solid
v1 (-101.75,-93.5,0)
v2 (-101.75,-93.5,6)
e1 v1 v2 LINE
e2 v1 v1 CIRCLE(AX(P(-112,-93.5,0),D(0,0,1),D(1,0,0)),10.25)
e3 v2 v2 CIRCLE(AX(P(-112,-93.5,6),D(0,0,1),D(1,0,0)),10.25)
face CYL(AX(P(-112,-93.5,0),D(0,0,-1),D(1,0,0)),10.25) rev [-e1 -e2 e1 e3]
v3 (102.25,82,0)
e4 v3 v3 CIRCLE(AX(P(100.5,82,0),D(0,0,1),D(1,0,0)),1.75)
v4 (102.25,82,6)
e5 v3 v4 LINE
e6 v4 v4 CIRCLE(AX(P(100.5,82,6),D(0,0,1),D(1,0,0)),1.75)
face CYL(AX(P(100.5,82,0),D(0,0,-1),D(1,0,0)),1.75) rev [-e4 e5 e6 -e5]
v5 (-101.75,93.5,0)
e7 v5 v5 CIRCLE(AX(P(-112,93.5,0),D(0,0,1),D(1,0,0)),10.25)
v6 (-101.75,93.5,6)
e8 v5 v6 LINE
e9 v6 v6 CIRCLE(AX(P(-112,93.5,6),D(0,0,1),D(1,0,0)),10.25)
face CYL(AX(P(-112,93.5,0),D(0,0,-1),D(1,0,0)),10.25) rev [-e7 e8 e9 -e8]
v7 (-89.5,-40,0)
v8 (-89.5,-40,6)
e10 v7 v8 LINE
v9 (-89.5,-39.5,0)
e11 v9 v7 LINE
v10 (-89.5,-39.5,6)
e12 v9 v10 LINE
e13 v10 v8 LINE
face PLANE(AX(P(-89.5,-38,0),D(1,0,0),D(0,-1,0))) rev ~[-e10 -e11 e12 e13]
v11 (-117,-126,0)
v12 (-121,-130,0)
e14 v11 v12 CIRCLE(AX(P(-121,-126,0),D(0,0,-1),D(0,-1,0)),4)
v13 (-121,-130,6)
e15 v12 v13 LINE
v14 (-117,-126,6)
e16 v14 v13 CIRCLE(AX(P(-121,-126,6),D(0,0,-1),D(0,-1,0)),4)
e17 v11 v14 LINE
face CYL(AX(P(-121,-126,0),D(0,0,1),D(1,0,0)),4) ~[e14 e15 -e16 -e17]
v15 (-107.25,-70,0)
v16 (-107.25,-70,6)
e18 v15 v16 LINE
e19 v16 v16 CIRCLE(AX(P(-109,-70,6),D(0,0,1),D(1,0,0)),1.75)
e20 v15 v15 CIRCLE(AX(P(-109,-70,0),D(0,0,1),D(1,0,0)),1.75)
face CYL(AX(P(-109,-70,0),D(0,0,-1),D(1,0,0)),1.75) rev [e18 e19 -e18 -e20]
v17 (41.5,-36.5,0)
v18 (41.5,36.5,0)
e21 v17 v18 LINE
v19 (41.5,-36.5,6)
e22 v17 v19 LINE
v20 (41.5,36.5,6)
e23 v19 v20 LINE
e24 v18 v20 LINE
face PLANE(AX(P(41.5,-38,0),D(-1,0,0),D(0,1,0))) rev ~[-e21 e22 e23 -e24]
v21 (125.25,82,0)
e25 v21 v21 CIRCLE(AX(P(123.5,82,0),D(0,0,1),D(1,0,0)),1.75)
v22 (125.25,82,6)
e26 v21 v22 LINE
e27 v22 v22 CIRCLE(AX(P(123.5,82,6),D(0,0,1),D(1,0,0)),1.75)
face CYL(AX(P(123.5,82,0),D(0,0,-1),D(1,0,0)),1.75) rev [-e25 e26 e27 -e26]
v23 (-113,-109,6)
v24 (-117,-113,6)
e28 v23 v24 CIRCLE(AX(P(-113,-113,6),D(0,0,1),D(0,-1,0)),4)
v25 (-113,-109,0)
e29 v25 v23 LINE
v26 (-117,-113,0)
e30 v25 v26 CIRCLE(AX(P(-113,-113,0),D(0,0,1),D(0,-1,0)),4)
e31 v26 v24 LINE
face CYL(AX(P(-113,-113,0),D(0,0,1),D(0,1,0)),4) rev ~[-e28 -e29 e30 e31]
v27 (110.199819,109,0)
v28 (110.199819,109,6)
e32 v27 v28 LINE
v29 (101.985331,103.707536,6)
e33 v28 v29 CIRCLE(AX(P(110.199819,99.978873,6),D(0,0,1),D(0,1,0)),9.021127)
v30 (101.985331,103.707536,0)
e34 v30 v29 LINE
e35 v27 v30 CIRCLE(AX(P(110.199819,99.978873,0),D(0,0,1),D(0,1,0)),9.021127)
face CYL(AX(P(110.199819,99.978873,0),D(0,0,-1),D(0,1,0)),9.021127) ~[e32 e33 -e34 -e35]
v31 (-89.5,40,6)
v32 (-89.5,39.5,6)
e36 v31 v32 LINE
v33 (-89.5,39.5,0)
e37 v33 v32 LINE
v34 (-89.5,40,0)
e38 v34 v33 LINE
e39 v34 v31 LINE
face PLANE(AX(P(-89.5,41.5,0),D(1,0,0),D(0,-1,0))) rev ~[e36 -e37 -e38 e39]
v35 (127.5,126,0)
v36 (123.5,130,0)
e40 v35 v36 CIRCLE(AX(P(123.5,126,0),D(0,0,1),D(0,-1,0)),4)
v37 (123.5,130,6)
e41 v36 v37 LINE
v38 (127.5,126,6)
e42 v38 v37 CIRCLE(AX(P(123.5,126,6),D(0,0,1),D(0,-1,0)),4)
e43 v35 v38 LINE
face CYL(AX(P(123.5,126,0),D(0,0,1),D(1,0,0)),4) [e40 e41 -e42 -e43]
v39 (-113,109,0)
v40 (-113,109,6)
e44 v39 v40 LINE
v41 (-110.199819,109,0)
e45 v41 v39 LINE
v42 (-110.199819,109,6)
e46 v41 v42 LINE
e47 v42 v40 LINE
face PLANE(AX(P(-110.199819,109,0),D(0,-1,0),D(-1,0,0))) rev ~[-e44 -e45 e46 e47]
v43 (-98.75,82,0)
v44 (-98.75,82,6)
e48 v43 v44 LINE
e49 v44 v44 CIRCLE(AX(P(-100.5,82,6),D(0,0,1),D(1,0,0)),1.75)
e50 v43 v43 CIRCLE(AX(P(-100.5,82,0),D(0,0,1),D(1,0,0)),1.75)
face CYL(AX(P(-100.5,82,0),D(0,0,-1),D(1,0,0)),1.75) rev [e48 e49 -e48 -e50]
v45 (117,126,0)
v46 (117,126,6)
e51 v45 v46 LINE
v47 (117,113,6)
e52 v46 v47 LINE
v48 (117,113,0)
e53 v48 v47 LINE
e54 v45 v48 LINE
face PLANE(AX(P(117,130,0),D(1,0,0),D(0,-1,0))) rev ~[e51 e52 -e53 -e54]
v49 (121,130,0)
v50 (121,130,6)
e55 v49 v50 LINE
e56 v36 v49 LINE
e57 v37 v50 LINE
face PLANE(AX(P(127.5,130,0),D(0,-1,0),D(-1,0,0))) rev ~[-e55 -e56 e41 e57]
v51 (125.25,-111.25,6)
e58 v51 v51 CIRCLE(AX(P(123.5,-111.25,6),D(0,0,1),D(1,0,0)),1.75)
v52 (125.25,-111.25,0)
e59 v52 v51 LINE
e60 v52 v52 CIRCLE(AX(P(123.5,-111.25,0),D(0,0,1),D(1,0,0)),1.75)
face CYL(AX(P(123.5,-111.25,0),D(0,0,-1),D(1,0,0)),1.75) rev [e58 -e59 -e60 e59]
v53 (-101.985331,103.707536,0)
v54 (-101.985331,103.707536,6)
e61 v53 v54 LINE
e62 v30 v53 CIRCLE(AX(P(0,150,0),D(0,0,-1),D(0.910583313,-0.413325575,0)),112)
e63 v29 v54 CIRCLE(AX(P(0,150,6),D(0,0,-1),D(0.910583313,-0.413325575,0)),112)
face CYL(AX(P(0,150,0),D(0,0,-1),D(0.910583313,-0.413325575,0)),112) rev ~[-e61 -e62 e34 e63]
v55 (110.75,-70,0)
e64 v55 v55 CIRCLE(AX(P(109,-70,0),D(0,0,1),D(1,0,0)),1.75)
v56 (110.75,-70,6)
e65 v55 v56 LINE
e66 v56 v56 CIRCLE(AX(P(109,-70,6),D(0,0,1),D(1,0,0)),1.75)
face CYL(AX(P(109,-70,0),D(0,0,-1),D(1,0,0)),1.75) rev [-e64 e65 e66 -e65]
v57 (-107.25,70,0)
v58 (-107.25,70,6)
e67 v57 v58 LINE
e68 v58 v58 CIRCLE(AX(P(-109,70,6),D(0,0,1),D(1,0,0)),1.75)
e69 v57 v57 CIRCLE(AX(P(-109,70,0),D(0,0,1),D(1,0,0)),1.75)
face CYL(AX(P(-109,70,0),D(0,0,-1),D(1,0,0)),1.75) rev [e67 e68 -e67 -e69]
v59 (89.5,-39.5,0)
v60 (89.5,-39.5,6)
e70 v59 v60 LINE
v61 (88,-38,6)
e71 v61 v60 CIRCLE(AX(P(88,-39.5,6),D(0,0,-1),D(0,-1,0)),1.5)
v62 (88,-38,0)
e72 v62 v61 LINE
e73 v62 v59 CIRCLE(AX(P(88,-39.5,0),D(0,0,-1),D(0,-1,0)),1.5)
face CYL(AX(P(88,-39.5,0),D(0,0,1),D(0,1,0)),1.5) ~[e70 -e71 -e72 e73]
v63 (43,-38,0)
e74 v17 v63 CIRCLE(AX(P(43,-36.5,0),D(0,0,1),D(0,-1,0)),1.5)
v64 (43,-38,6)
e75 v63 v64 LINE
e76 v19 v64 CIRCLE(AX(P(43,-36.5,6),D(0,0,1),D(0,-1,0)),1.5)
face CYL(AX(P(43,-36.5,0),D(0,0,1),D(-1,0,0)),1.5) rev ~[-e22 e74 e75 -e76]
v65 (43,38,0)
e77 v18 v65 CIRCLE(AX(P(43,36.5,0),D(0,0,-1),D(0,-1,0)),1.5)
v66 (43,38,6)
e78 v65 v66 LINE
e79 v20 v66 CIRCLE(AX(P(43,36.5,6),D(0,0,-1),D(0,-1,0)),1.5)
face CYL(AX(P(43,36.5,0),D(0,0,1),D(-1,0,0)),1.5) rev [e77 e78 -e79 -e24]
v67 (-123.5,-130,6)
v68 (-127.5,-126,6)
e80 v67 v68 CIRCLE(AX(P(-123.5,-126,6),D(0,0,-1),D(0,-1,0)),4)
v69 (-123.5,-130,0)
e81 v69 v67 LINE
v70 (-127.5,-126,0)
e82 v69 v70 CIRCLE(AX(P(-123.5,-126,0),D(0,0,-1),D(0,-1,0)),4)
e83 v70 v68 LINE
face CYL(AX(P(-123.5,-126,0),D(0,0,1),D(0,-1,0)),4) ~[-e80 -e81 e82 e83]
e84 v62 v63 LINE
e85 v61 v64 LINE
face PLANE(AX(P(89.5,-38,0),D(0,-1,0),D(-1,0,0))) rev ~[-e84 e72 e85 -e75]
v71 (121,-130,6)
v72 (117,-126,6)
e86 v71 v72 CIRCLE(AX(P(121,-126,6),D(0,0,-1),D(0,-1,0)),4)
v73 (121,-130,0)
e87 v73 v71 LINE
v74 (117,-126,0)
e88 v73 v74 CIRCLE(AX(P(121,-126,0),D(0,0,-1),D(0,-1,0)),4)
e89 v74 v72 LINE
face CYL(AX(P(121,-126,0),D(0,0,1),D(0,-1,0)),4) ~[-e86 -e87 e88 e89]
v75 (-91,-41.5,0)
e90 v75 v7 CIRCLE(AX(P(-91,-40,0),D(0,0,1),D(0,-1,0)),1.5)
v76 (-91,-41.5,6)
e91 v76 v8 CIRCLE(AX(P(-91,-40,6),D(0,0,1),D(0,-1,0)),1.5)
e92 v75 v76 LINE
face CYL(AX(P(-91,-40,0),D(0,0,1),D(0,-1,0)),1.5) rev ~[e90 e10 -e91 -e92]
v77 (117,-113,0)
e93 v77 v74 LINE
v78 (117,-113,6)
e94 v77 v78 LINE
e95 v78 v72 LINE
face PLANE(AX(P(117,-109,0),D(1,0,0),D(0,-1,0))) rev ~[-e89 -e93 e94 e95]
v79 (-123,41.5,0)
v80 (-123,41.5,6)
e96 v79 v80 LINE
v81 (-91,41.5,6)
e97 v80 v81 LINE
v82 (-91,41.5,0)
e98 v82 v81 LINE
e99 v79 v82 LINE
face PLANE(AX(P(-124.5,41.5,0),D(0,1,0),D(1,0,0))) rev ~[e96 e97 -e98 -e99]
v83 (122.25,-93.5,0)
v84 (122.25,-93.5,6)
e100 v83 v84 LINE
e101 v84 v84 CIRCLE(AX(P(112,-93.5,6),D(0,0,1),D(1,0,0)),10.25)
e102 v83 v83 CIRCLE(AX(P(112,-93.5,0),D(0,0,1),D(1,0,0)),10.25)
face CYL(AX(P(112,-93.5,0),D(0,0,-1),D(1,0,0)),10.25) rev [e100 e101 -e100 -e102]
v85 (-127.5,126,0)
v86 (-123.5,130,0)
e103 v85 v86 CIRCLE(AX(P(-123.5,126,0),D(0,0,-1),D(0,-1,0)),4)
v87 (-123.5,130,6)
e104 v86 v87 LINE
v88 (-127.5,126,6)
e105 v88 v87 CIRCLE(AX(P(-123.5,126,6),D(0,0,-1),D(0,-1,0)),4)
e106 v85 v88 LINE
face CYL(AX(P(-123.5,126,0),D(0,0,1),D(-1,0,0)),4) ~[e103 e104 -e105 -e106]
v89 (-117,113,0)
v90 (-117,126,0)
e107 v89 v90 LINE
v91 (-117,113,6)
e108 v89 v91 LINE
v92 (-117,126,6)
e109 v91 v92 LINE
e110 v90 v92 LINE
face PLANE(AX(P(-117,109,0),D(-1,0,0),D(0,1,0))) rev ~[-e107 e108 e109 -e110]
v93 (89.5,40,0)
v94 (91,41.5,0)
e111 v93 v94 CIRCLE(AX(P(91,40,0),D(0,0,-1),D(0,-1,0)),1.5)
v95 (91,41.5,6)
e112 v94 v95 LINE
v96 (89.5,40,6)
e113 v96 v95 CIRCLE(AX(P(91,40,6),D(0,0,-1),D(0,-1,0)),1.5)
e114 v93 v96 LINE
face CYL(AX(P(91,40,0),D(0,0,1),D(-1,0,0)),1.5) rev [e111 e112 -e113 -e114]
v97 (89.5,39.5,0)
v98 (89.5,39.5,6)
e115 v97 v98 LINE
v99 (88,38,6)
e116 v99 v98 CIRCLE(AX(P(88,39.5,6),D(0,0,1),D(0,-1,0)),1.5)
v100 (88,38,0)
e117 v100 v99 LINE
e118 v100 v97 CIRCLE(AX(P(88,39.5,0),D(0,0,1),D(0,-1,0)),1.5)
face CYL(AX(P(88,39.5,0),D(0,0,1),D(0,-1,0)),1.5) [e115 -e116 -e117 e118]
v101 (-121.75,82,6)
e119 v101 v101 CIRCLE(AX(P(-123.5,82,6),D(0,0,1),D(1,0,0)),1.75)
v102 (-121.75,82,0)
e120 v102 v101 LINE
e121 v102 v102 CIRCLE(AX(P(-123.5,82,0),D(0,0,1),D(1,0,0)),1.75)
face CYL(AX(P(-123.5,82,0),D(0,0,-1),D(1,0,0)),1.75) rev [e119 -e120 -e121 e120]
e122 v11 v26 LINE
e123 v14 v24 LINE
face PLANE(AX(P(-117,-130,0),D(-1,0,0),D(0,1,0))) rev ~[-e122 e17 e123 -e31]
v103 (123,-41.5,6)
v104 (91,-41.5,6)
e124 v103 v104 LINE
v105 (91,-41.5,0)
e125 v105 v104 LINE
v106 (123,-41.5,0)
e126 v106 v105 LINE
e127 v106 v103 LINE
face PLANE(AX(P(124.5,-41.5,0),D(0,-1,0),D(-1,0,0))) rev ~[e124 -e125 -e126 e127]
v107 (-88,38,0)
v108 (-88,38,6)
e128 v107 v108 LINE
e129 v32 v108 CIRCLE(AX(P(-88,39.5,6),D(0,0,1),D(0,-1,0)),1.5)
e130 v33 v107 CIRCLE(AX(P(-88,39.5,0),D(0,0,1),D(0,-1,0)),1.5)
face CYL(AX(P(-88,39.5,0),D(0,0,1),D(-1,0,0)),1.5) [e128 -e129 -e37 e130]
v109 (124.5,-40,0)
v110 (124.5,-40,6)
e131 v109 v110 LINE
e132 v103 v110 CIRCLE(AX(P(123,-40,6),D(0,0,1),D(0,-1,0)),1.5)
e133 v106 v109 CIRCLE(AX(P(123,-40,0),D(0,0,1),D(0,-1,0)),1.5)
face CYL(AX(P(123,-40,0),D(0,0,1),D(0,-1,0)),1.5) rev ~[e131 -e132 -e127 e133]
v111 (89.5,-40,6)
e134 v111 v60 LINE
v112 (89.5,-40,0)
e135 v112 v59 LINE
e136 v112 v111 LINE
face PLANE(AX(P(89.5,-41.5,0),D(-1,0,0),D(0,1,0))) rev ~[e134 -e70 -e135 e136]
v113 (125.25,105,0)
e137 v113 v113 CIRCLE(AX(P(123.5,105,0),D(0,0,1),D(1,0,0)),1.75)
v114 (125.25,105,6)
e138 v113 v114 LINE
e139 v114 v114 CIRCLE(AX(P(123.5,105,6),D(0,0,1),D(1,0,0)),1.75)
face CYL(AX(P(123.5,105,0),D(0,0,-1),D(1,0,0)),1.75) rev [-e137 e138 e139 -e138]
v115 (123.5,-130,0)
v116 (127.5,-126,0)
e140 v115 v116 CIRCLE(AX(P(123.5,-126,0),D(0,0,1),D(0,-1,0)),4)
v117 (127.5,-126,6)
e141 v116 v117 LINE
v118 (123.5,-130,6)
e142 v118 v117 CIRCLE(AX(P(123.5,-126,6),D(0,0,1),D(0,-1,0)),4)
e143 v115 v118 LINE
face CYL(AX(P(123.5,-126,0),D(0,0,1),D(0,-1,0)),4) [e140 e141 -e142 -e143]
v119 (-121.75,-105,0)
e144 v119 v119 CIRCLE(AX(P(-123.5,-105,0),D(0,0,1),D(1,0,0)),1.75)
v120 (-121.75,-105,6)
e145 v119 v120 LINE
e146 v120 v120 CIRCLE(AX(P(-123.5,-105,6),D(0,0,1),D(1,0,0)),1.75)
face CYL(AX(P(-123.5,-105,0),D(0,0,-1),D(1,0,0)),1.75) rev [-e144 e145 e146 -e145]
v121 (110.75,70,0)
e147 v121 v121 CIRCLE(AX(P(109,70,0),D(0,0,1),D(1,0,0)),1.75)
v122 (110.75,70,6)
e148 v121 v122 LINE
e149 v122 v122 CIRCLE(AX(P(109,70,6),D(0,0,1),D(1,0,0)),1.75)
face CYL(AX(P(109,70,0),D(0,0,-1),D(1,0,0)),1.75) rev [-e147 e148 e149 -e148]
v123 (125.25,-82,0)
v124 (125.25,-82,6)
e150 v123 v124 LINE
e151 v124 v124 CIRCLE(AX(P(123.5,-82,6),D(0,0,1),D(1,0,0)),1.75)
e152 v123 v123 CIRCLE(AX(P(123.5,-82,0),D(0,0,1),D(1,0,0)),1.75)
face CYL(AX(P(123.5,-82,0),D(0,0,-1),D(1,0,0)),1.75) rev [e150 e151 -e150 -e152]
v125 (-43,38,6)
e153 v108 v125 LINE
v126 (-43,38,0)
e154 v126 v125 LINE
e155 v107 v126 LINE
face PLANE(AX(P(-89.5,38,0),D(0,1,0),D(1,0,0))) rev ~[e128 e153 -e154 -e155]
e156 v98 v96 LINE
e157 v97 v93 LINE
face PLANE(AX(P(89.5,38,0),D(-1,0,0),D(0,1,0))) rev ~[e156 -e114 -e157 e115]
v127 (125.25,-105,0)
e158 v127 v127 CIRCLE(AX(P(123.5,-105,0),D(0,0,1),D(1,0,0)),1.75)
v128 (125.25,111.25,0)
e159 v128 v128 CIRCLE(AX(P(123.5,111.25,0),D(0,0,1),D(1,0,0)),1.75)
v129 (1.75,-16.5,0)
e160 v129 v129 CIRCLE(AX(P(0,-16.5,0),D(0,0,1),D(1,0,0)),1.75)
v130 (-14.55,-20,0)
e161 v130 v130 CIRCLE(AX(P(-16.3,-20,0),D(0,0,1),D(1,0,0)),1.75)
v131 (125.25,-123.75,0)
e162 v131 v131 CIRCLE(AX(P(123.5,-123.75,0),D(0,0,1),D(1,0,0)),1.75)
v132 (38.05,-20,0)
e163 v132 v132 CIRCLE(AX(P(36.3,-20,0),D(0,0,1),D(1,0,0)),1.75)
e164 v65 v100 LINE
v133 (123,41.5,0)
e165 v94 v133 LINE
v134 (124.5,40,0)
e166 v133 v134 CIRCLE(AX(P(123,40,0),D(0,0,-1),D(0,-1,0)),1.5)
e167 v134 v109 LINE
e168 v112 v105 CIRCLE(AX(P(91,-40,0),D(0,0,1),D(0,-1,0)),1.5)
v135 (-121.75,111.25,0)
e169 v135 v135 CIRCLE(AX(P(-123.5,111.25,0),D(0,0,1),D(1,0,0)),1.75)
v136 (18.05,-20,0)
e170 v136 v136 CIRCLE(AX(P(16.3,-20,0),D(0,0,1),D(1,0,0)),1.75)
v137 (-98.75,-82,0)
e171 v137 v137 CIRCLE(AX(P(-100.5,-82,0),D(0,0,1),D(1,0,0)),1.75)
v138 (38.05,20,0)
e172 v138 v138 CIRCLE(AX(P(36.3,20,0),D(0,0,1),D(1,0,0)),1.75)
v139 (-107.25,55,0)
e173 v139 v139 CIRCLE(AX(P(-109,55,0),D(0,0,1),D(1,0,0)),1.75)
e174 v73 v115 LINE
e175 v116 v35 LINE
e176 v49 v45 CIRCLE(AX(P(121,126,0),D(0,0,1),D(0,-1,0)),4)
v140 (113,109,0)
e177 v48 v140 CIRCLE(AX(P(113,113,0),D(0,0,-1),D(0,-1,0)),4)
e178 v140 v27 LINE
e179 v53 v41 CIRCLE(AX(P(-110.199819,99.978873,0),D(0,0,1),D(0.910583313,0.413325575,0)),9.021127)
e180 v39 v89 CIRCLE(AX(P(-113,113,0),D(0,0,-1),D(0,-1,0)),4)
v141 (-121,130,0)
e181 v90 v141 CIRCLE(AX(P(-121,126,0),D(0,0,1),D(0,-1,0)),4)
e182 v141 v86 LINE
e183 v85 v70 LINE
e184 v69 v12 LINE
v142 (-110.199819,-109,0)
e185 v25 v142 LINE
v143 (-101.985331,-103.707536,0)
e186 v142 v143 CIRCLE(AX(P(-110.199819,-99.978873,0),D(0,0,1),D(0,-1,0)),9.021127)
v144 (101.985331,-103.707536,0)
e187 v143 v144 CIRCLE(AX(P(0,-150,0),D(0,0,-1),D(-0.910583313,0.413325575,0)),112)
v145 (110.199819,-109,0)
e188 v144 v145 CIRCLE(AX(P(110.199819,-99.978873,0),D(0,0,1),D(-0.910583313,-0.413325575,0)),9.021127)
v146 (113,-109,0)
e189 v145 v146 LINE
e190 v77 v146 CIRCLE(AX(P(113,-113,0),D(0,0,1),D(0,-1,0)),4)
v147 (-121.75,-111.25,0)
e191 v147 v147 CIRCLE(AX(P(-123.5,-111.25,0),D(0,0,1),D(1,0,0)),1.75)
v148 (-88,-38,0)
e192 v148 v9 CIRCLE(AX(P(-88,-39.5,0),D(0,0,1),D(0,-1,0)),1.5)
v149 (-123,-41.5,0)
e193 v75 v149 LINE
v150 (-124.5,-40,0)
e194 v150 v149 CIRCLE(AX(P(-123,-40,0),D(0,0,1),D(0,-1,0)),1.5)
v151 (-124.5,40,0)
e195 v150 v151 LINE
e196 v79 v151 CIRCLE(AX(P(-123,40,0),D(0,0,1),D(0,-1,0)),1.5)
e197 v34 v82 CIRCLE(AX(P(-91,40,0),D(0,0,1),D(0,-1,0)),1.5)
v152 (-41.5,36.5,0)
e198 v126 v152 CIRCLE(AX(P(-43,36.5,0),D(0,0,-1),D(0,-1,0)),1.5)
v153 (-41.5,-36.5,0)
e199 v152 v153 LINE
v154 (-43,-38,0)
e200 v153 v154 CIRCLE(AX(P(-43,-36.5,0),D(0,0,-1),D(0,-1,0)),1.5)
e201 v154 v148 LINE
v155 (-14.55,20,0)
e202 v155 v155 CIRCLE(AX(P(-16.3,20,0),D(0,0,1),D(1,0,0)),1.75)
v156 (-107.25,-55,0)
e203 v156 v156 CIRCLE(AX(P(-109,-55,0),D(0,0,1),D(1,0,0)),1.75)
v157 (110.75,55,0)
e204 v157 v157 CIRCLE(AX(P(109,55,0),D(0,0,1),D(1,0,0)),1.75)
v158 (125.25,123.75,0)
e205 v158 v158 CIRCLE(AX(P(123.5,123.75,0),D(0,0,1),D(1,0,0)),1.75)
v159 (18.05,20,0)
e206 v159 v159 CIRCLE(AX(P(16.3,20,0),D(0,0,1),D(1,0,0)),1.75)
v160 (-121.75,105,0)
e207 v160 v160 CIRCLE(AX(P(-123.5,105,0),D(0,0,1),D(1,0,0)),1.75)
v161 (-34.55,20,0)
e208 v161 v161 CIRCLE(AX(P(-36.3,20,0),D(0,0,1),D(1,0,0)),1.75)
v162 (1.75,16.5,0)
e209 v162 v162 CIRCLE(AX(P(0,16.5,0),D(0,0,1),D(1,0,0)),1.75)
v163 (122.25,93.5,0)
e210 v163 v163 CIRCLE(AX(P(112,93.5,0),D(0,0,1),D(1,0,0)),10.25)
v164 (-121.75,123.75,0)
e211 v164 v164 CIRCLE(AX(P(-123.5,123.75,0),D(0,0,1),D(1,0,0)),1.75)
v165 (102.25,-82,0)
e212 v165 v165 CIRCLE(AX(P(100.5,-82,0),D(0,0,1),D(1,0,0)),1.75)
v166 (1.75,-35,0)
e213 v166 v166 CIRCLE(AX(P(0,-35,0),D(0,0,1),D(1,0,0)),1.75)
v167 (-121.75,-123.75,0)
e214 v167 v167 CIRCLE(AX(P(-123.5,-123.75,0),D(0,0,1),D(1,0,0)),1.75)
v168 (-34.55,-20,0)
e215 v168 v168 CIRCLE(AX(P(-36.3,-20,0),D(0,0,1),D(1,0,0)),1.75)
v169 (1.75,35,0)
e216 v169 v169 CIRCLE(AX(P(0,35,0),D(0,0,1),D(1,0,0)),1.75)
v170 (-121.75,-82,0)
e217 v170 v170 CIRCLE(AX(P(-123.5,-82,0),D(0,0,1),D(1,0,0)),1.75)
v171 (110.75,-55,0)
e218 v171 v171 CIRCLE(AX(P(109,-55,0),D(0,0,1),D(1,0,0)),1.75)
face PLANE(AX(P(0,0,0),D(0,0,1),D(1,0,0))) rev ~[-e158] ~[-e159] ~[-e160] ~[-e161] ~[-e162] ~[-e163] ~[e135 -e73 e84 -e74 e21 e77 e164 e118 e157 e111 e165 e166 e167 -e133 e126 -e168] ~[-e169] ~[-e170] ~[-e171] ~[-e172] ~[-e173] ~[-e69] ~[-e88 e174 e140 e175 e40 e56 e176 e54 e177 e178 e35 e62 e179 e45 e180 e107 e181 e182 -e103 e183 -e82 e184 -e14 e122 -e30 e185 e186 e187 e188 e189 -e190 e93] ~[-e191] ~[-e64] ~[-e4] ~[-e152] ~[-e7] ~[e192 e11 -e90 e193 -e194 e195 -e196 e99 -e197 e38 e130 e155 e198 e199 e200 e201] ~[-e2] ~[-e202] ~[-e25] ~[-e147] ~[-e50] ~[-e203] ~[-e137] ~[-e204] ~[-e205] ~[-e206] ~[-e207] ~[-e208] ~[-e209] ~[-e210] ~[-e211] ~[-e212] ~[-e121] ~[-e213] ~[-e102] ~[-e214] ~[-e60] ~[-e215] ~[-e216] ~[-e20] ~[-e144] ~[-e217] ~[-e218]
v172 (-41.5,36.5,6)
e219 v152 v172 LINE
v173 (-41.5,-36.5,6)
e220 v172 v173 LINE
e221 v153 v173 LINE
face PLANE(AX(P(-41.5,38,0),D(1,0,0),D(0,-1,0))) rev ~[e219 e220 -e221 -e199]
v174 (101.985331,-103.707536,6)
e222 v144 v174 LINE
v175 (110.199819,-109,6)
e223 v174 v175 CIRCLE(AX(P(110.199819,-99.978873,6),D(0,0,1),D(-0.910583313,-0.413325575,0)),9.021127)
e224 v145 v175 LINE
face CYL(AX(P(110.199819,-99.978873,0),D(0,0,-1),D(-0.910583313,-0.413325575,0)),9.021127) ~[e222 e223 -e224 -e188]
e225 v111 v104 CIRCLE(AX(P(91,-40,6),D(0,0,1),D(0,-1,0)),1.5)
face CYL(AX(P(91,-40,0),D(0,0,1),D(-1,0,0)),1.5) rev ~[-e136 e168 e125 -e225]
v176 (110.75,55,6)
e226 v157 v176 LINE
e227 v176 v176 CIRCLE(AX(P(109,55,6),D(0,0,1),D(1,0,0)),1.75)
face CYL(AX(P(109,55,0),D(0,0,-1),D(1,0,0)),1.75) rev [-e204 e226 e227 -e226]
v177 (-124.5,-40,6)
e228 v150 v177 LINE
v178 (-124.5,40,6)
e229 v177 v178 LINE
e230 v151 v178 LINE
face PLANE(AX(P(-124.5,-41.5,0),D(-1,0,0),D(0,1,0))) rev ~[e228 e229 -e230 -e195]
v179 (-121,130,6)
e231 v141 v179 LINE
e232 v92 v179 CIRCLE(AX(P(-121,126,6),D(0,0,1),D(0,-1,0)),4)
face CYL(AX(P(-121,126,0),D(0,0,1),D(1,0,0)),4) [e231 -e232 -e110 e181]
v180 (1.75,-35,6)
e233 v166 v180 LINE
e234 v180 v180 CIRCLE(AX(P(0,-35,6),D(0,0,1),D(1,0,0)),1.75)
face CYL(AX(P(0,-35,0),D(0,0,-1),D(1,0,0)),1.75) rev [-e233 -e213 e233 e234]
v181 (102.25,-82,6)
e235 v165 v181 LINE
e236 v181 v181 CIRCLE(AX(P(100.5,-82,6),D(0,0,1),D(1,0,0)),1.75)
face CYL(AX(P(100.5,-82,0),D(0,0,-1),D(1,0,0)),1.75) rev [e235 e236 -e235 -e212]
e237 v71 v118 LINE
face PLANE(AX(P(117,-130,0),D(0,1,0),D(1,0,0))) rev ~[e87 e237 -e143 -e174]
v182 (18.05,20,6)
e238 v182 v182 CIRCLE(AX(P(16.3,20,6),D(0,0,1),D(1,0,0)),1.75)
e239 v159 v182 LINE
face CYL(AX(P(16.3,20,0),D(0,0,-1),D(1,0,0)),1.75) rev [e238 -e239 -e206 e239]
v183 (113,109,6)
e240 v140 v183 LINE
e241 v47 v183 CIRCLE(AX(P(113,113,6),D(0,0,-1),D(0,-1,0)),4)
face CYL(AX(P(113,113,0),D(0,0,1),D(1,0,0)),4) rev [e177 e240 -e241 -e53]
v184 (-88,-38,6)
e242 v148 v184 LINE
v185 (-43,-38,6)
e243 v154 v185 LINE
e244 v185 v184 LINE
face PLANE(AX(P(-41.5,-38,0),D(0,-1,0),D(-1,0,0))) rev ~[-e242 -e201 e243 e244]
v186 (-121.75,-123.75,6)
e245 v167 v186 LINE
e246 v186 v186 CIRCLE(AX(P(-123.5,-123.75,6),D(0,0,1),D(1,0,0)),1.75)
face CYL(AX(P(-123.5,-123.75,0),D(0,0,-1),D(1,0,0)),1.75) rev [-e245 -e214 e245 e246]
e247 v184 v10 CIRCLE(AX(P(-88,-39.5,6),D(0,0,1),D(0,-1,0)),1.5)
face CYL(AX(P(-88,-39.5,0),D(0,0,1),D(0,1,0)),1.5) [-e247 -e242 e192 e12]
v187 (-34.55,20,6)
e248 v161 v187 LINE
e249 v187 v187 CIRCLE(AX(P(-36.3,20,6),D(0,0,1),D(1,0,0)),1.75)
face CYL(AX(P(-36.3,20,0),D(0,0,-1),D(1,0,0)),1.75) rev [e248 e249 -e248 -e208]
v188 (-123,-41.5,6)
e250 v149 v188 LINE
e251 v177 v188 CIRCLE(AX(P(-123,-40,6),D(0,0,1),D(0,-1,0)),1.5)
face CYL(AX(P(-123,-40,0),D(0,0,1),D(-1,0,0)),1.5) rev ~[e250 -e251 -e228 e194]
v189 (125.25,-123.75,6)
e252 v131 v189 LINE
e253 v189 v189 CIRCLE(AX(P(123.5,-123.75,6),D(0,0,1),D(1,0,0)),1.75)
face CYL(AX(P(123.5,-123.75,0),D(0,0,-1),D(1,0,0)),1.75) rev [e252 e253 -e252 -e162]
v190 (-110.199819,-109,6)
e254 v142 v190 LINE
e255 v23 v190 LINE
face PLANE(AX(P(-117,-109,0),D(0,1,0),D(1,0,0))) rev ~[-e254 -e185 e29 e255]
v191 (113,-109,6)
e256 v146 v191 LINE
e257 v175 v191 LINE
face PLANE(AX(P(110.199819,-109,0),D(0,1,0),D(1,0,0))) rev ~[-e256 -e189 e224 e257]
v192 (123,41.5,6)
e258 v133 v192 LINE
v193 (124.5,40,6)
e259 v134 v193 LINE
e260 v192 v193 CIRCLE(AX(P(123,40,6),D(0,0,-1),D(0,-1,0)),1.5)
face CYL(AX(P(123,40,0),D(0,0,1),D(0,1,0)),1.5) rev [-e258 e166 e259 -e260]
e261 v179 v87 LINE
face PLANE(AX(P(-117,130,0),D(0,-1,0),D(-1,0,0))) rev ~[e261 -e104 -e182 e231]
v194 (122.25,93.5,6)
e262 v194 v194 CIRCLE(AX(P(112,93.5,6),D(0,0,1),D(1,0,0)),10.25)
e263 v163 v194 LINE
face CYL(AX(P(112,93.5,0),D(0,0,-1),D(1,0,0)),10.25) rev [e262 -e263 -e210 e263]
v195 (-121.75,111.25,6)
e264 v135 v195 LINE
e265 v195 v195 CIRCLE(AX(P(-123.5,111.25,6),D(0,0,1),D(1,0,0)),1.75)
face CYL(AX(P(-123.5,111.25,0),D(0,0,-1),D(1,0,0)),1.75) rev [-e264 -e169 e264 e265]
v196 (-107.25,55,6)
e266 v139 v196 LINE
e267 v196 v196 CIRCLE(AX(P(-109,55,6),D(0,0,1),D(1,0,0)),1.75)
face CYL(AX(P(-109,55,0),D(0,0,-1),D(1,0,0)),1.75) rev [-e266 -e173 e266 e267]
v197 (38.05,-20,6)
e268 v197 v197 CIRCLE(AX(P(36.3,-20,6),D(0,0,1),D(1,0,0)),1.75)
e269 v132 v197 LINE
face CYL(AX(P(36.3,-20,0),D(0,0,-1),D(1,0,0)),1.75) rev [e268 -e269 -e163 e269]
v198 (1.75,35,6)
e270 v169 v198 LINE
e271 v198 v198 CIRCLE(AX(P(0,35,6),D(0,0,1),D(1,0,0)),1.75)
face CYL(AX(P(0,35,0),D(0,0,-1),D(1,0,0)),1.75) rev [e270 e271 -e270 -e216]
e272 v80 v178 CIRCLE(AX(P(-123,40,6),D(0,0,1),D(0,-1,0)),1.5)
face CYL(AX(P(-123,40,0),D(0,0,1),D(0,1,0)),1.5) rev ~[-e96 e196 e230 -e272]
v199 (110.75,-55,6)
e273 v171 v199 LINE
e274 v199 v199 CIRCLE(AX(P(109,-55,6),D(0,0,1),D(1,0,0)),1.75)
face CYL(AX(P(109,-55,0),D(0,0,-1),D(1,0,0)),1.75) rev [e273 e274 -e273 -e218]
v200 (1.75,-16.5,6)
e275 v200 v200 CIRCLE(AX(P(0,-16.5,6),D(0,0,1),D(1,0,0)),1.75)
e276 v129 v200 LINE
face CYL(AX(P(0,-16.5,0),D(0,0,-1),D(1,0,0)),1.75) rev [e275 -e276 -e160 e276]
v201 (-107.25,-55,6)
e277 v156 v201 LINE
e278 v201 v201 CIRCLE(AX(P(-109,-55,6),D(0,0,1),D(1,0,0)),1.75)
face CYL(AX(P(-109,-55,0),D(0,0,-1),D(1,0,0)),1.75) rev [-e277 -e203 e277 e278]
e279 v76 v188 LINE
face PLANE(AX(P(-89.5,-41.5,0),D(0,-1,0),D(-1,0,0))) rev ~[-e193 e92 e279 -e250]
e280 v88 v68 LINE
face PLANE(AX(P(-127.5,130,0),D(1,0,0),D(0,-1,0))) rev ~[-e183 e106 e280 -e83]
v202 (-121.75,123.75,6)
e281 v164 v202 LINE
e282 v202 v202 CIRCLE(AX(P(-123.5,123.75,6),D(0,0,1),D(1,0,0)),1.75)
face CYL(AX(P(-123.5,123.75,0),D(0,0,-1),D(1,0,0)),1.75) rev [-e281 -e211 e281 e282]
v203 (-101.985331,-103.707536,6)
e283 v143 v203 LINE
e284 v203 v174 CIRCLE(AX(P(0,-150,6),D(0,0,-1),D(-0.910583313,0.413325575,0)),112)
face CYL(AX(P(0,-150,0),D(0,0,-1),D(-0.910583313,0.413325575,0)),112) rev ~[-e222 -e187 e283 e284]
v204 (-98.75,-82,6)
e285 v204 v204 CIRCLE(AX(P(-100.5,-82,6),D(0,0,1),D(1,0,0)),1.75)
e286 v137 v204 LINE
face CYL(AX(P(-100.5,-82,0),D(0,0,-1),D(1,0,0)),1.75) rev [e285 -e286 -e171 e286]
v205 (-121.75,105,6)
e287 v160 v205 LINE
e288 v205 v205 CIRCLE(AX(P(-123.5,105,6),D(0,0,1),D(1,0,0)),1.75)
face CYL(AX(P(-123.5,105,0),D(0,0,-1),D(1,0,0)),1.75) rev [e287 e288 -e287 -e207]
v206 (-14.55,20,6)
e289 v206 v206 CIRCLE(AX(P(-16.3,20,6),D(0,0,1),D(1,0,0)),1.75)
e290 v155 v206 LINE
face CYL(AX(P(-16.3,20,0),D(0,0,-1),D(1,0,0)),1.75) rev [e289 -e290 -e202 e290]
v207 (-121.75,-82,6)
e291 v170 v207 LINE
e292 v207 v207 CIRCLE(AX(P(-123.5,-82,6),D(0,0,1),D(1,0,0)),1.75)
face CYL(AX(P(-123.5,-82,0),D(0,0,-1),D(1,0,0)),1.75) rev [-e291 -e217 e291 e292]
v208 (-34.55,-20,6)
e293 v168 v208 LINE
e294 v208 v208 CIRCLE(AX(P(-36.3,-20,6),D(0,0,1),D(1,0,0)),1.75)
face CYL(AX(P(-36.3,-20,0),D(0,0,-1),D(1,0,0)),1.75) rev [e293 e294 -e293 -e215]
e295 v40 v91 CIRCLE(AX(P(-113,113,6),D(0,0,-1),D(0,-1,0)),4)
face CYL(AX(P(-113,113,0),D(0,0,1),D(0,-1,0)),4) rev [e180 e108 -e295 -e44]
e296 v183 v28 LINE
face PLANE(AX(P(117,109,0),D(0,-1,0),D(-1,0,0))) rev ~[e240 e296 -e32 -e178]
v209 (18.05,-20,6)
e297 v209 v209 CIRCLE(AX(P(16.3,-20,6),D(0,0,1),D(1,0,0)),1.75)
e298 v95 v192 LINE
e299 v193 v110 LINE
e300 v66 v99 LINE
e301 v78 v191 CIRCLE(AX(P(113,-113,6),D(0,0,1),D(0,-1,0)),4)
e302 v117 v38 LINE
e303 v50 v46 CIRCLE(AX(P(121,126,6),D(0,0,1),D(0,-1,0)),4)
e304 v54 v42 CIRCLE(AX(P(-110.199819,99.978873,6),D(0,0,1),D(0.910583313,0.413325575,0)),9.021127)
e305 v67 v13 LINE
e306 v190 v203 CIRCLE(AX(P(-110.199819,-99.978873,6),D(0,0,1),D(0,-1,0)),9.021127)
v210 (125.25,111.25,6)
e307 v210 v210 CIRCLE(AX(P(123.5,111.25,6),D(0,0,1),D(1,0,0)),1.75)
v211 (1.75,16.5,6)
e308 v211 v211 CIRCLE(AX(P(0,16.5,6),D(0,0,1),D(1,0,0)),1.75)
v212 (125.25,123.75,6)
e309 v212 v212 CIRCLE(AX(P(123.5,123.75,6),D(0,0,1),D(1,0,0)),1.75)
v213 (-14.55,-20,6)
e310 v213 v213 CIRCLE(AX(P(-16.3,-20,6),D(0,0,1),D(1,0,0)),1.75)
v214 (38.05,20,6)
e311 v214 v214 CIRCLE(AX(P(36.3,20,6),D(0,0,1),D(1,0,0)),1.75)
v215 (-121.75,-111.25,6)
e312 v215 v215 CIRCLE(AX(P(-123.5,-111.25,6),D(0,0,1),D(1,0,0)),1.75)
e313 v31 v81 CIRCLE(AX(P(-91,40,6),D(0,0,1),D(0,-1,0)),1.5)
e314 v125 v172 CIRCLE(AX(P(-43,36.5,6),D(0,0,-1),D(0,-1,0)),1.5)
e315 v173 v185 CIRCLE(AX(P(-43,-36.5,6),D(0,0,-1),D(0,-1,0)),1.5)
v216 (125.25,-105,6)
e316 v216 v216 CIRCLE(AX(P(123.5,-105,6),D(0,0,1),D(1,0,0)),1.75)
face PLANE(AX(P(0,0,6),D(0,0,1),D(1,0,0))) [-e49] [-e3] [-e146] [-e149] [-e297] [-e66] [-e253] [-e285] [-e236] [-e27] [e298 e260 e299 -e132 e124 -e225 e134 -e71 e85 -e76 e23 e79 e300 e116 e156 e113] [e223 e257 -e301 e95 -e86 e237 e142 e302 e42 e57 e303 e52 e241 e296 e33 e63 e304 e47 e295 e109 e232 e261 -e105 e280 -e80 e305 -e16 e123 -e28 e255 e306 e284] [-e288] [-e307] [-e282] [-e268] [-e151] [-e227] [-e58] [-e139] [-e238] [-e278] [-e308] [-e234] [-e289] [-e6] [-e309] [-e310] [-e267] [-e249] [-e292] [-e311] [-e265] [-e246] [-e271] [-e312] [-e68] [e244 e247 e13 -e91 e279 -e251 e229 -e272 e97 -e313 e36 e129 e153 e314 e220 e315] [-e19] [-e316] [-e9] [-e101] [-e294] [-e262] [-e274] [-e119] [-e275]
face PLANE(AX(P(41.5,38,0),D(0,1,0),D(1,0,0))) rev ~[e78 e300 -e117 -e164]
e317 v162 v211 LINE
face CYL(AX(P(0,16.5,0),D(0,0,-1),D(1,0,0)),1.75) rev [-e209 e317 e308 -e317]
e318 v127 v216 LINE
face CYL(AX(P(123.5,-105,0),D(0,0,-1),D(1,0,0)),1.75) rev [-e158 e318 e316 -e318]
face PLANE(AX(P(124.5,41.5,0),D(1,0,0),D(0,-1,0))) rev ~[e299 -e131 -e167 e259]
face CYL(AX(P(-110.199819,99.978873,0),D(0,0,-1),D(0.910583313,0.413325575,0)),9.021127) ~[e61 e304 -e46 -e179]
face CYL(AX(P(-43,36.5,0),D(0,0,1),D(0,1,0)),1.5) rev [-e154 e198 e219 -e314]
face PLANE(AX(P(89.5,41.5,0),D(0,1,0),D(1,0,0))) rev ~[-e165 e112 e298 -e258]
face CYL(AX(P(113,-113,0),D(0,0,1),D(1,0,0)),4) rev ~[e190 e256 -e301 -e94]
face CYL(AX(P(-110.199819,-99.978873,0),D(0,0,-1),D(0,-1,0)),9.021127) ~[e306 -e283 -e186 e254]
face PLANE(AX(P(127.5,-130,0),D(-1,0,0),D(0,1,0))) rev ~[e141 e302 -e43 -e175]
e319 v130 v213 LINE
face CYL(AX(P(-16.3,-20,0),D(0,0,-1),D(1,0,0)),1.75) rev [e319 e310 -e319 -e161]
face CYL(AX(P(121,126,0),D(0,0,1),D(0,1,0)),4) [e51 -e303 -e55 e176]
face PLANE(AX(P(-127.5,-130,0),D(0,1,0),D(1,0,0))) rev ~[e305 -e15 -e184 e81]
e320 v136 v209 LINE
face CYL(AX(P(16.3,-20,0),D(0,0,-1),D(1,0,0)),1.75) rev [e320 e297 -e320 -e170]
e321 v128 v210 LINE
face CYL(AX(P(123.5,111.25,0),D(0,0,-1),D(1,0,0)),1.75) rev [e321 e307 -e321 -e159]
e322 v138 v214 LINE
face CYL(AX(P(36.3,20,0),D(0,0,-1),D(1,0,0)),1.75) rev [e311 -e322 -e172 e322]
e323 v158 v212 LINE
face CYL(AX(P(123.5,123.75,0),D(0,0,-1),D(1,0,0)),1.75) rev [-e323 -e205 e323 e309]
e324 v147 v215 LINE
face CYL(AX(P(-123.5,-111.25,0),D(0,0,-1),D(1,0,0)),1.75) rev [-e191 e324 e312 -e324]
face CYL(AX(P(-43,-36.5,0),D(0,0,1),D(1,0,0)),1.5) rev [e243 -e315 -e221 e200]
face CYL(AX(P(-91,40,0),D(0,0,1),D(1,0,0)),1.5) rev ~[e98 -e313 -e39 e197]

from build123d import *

# Parameters (mm, degrees)
ESQUISSE1_R        = 1.75
ESQUISSE1_R_2      = 10.25
BOSS_EXTRU_1_DEPTH = 6
CONG_1_R           = 4
CONG_2_R           = 1.5


with BuildPart() as part:
    # Esquisse1 → Boss.-Extru.1 (new body)
    with BuildSketch(Plane.XY):
        with BuildLine():
            Line((117, -130), (127.5, -130))
            Line((127.5, -130), (127.5, 130))
            Line((127.5, 130), (117, 130))
            Line((117, 130), (117, 109))
            Line((117, 109), (110.199818512, 109))
            ThreePointArc((110.199818512, 109), (105.313920853, 107.562324439), (101.985331022, 103.707535642))
            ThreePointArc((101.985331022, 103.707535642), (0, 38), (-101.985331022, 103.707535642))
            ThreePointArc((-101.985331022, 103.707535642), (-105.313920853, 107.562324439), (-110.199818512, 109))
            Line((-110.199818512, 109), (-117, 109))
            Line((-117, 109), (-117, 130))
            Line((-117, 130), (-127.5, 130))
            Line((-127.5, 130), (-127.5, -130))
            Line((-127.5, -130), (-117, -130))
            Line((-117, -130), (-117, -109))
            Line((-117, -109), (-110.199818512, -109))
            ThreePointArc((-110.199818512, -109), (-105.313920853, -107.562324439), (-101.985331022, -103.707535642))
            ThreePointArc((-101.985331022, -103.707535642), (0, -38), (101.985331022, -103.707535642))
            ThreePointArc((101.985331022, -103.707535642), (105.313920853, -107.562324439), (110.199818512, -109))
            Line((110.199818512, -109), (117, -109))
            Line((117, -109), (117, -130))
        make_face()
        with Locations((-123.5, -123.75)):
            Circle(ESQUISSE1_R, mode=Mode.SUBTRACT)
        with Locations((-123.5, -111.25)):
            Circle(ESQUISSE1_R, mode=Mode.SUBTRACT)
        with Locations((-123.5, -105)):
            Circle(ESQUISSE1_R, mode=Mode.SUBTRACT)
        with Locations((-112, -93.5)):
            Circle(ESQUISSE1_R_2, mode=Mode.SUBTRACT)
        with Locations((-123.5, -82)):
            Circle(ESQUISSE1_R, mode=Mode.SUBTRACT)
        with Locations((-100.5, -82)):
            Circle(ESQUISSE1_R, mode=Mode.SUBTRACT)
        with Locations((-109, -70)):
            Circle(ESQUISSE1_R, mode=Mode.SUBTRACT)
        with Locations((-109, -55)):
            Circle(ESQUISSE1_R, mode=Mode.SUBTRACT)
        with Locations((-36.3, -20)):
            Circle(ESQUISSE1_R, mode=Mode.SUBTRACT)
        with Locations((-16.3, -20)):
            Circle(ESQUISSE1_R, mode=Mode.SUBTRACT)
        with Locations((123.5, -123.75)):
            Circle(ESQUISSE1_R, mode=Mode.SUBTRACT)
        with Locations((123.5, -111.25)):
            Circle(ESQUISSE1_R, mode=Mode.SUBTRACT)
        with Locations((123.5, -105)):
            Circle(ESQUISSE1_R, mode=Mode.SUBTRACT)
        with Locations((100.5, -82)):
            Circle(ESQUISSE1_R, mode=Mode.SUBTRACT)
        with Locations((112, -93.5)):
            Circle(ESQUISSE1_R_2, mode=Mode.SUBTRACT)
        with Locations((123.5, -82)):
            Circle(ESQUISSE1_R, mode=Mode.SUBTRACT)
        with Locations((109, -70)):
            Circle(ESQUISSE1_R, mode=Mode.SUBTRACT)
        with Locations((0, -35)):
            Circle(ESQUISSE1_R, mode=Mode.SUBTRACT)
        with Locations((0, -16.5)):
            Circle(ESQUISSE1_R, mode=Mode.SUBTRACT)
        with Locations((16.3, -20)):
            Circle(ESQUISSE1_R, mode=Mode.SUBTRACT)
        with Locations((36.3, -20)):
            Circle(ESQUISSE1_R, mode=Mode.SUBTRACT)
        with Locations((109, -55)):
            Circle(ESQUISSE1_R, mode=Mode.SUBTRACT)
        Polygon((-89.5, 38), (-41.5, 38), (-41.5, -38), (-89.5, -38), (-89.5, -41.5), (-124.5, -41.5), (-124.5, 41.5), (-89.5, 41.5), align=None, mode=Mode.SUBTRACT)
        with Locations((-109, 55)):
            Circle(ESQUISSE1_R, mode=Mode.SUBTRACT)
        with Locations((-36.3, 20)):
            Circle(ESQUISSE1_R, mode=Mode.SUBTRACT)
        with Locations((-16.3, 20)):
            Circle(ESQUISSE1_R, mode=Mode.SUBTRACT)
        with Locations((0, 35)):
            Circle(ESQUISSE1_R, mode=Mode.SUBTRACT)
        with Locations((-109, 70)):
            Circle(ESQUISSE1_R, mode=Mode.SUBTRACT)
        with Locations((-123.5, 82)):
            Circle(ESQUISSE1_R, mode=Mode.SUBTRACT)
        with Locations((-112, 93.5)):
            Circle(ESQUISSE1_R_2, mode=Mode.SUBTRACT)
        with Locations((-100.5, 82)):
            Circle(ESQUISSE1_R, mode=Mode.SUBTRACT)
        with Locations((-123.5, 105)):
            Circle(ESQUISSE1_R, mode=Mode.SUBTRACT)
        with Locations((-123.5, 111.25)):
            Circle(ESQUISSE1_R, mode=Mode.SUBTRACT)
        with Locations((-123.5, 123.75)):
            Circle(ESQUISSE1_R, mode=Mode.SUBTRACT)
        with Locations((0, 16.5)):
            Circle(ESQUISSE1_R, mode=Mode.SUBTRACT)
        with Locations((16.3, 20)):
            Circle(ESQUISSE1_R, mode=Mode.SUBTRACT)
        with Locations((36.3, 20)):
            Circle(ESQUISSE1_R, mode=Mode.SUBTRACT)
        Polygon((41.5, 38), (89.5, 38), (89.5, 41.5), (124.5, 41.5), (124.5, -41.5), (89.5, -41.5), (89.5, -38), (41.5, -38), align=None, mode=Mode.SUBTRACT)
        with Locations((109, 55)):
            Circle(ESQUISSE1_R, mode=Mode.SUBTRACT)
        with Locations((109, 70)):
            Circle(ESQUISSE1_R, mode=Mode.SUBTRACT)
        with Locations((100.5, 82)):
            Circle(ESQUISSE1_R, mode=Mode.SUBTRACT)
        with Locations((123.5, 82)):
            Circle(ESQUISSE1_R, mode=Mode.SUBTRACT)
        with Locations((112, 93.5)):
            Circle(ESQUISSE1_R_2, mode=Mode.SUBTRACT)
        with Locations((123.5, 105)):
            Circle(ESQUISSE1_R, mode=Mode.SUBTRACT)
        with Locations((123.5, 111.25)):
            Circle(ESQUISSE1_R, mode=Mode.SUBTRACT)
        with Locations((123.5, 123.75)):
            Circle(ESQUISSE1_R, mode=Mode.SUBTRACT)
    extrude(amount=BOSS_EXTRU_1_DEPTH)

    # Congé1
    cong_1_edges = [part.edges().sort_by_distance(p)[0] for p in [
        (-117, -109, 3),
        (-117, -130, 3),
        (-127.5, -130, 3),
        (-127.5, 130, 3),
        (-117, 130, 3),
        (-117, 109, 3),
        (117, 109, 3),
        (117, 130, 3),
        (127.5, 130, 3),
        (127.5, -130, 3),
        (117, -130, 3),
        (117, -109, 3),
    ]]
    fillet(cong_1_edges, radius=CONG_1_R)

    # Congé2
    cong_2_edges = [part.edges().sort_by_distance(p)[0] for p in [
        (41.5, -38, 3),
        (89.5, -38, 3),
        (89.5, -41.5, 3),
        (124.5, -41.5, 3),
        (124.5, 41.5, 3),
        (89.5, 41.5, 3),
        (89.5, 38, 3),
        (41.5, 38, 3),
        (-89.5, 41.5, 3),
        (-124.5, 41.5, 3),
        (-124.5, -41.5, 3),
        (-89.5, -41.5, 3),
        (-89.5, -38, 3),
        (-41.5, -38, 3),
        (-41.5, 38, 3),
        (-89.5, 38, 3),
    ]]
    fillet(cong_2_edges, radius=CONG_2_R)


solid = part.part
